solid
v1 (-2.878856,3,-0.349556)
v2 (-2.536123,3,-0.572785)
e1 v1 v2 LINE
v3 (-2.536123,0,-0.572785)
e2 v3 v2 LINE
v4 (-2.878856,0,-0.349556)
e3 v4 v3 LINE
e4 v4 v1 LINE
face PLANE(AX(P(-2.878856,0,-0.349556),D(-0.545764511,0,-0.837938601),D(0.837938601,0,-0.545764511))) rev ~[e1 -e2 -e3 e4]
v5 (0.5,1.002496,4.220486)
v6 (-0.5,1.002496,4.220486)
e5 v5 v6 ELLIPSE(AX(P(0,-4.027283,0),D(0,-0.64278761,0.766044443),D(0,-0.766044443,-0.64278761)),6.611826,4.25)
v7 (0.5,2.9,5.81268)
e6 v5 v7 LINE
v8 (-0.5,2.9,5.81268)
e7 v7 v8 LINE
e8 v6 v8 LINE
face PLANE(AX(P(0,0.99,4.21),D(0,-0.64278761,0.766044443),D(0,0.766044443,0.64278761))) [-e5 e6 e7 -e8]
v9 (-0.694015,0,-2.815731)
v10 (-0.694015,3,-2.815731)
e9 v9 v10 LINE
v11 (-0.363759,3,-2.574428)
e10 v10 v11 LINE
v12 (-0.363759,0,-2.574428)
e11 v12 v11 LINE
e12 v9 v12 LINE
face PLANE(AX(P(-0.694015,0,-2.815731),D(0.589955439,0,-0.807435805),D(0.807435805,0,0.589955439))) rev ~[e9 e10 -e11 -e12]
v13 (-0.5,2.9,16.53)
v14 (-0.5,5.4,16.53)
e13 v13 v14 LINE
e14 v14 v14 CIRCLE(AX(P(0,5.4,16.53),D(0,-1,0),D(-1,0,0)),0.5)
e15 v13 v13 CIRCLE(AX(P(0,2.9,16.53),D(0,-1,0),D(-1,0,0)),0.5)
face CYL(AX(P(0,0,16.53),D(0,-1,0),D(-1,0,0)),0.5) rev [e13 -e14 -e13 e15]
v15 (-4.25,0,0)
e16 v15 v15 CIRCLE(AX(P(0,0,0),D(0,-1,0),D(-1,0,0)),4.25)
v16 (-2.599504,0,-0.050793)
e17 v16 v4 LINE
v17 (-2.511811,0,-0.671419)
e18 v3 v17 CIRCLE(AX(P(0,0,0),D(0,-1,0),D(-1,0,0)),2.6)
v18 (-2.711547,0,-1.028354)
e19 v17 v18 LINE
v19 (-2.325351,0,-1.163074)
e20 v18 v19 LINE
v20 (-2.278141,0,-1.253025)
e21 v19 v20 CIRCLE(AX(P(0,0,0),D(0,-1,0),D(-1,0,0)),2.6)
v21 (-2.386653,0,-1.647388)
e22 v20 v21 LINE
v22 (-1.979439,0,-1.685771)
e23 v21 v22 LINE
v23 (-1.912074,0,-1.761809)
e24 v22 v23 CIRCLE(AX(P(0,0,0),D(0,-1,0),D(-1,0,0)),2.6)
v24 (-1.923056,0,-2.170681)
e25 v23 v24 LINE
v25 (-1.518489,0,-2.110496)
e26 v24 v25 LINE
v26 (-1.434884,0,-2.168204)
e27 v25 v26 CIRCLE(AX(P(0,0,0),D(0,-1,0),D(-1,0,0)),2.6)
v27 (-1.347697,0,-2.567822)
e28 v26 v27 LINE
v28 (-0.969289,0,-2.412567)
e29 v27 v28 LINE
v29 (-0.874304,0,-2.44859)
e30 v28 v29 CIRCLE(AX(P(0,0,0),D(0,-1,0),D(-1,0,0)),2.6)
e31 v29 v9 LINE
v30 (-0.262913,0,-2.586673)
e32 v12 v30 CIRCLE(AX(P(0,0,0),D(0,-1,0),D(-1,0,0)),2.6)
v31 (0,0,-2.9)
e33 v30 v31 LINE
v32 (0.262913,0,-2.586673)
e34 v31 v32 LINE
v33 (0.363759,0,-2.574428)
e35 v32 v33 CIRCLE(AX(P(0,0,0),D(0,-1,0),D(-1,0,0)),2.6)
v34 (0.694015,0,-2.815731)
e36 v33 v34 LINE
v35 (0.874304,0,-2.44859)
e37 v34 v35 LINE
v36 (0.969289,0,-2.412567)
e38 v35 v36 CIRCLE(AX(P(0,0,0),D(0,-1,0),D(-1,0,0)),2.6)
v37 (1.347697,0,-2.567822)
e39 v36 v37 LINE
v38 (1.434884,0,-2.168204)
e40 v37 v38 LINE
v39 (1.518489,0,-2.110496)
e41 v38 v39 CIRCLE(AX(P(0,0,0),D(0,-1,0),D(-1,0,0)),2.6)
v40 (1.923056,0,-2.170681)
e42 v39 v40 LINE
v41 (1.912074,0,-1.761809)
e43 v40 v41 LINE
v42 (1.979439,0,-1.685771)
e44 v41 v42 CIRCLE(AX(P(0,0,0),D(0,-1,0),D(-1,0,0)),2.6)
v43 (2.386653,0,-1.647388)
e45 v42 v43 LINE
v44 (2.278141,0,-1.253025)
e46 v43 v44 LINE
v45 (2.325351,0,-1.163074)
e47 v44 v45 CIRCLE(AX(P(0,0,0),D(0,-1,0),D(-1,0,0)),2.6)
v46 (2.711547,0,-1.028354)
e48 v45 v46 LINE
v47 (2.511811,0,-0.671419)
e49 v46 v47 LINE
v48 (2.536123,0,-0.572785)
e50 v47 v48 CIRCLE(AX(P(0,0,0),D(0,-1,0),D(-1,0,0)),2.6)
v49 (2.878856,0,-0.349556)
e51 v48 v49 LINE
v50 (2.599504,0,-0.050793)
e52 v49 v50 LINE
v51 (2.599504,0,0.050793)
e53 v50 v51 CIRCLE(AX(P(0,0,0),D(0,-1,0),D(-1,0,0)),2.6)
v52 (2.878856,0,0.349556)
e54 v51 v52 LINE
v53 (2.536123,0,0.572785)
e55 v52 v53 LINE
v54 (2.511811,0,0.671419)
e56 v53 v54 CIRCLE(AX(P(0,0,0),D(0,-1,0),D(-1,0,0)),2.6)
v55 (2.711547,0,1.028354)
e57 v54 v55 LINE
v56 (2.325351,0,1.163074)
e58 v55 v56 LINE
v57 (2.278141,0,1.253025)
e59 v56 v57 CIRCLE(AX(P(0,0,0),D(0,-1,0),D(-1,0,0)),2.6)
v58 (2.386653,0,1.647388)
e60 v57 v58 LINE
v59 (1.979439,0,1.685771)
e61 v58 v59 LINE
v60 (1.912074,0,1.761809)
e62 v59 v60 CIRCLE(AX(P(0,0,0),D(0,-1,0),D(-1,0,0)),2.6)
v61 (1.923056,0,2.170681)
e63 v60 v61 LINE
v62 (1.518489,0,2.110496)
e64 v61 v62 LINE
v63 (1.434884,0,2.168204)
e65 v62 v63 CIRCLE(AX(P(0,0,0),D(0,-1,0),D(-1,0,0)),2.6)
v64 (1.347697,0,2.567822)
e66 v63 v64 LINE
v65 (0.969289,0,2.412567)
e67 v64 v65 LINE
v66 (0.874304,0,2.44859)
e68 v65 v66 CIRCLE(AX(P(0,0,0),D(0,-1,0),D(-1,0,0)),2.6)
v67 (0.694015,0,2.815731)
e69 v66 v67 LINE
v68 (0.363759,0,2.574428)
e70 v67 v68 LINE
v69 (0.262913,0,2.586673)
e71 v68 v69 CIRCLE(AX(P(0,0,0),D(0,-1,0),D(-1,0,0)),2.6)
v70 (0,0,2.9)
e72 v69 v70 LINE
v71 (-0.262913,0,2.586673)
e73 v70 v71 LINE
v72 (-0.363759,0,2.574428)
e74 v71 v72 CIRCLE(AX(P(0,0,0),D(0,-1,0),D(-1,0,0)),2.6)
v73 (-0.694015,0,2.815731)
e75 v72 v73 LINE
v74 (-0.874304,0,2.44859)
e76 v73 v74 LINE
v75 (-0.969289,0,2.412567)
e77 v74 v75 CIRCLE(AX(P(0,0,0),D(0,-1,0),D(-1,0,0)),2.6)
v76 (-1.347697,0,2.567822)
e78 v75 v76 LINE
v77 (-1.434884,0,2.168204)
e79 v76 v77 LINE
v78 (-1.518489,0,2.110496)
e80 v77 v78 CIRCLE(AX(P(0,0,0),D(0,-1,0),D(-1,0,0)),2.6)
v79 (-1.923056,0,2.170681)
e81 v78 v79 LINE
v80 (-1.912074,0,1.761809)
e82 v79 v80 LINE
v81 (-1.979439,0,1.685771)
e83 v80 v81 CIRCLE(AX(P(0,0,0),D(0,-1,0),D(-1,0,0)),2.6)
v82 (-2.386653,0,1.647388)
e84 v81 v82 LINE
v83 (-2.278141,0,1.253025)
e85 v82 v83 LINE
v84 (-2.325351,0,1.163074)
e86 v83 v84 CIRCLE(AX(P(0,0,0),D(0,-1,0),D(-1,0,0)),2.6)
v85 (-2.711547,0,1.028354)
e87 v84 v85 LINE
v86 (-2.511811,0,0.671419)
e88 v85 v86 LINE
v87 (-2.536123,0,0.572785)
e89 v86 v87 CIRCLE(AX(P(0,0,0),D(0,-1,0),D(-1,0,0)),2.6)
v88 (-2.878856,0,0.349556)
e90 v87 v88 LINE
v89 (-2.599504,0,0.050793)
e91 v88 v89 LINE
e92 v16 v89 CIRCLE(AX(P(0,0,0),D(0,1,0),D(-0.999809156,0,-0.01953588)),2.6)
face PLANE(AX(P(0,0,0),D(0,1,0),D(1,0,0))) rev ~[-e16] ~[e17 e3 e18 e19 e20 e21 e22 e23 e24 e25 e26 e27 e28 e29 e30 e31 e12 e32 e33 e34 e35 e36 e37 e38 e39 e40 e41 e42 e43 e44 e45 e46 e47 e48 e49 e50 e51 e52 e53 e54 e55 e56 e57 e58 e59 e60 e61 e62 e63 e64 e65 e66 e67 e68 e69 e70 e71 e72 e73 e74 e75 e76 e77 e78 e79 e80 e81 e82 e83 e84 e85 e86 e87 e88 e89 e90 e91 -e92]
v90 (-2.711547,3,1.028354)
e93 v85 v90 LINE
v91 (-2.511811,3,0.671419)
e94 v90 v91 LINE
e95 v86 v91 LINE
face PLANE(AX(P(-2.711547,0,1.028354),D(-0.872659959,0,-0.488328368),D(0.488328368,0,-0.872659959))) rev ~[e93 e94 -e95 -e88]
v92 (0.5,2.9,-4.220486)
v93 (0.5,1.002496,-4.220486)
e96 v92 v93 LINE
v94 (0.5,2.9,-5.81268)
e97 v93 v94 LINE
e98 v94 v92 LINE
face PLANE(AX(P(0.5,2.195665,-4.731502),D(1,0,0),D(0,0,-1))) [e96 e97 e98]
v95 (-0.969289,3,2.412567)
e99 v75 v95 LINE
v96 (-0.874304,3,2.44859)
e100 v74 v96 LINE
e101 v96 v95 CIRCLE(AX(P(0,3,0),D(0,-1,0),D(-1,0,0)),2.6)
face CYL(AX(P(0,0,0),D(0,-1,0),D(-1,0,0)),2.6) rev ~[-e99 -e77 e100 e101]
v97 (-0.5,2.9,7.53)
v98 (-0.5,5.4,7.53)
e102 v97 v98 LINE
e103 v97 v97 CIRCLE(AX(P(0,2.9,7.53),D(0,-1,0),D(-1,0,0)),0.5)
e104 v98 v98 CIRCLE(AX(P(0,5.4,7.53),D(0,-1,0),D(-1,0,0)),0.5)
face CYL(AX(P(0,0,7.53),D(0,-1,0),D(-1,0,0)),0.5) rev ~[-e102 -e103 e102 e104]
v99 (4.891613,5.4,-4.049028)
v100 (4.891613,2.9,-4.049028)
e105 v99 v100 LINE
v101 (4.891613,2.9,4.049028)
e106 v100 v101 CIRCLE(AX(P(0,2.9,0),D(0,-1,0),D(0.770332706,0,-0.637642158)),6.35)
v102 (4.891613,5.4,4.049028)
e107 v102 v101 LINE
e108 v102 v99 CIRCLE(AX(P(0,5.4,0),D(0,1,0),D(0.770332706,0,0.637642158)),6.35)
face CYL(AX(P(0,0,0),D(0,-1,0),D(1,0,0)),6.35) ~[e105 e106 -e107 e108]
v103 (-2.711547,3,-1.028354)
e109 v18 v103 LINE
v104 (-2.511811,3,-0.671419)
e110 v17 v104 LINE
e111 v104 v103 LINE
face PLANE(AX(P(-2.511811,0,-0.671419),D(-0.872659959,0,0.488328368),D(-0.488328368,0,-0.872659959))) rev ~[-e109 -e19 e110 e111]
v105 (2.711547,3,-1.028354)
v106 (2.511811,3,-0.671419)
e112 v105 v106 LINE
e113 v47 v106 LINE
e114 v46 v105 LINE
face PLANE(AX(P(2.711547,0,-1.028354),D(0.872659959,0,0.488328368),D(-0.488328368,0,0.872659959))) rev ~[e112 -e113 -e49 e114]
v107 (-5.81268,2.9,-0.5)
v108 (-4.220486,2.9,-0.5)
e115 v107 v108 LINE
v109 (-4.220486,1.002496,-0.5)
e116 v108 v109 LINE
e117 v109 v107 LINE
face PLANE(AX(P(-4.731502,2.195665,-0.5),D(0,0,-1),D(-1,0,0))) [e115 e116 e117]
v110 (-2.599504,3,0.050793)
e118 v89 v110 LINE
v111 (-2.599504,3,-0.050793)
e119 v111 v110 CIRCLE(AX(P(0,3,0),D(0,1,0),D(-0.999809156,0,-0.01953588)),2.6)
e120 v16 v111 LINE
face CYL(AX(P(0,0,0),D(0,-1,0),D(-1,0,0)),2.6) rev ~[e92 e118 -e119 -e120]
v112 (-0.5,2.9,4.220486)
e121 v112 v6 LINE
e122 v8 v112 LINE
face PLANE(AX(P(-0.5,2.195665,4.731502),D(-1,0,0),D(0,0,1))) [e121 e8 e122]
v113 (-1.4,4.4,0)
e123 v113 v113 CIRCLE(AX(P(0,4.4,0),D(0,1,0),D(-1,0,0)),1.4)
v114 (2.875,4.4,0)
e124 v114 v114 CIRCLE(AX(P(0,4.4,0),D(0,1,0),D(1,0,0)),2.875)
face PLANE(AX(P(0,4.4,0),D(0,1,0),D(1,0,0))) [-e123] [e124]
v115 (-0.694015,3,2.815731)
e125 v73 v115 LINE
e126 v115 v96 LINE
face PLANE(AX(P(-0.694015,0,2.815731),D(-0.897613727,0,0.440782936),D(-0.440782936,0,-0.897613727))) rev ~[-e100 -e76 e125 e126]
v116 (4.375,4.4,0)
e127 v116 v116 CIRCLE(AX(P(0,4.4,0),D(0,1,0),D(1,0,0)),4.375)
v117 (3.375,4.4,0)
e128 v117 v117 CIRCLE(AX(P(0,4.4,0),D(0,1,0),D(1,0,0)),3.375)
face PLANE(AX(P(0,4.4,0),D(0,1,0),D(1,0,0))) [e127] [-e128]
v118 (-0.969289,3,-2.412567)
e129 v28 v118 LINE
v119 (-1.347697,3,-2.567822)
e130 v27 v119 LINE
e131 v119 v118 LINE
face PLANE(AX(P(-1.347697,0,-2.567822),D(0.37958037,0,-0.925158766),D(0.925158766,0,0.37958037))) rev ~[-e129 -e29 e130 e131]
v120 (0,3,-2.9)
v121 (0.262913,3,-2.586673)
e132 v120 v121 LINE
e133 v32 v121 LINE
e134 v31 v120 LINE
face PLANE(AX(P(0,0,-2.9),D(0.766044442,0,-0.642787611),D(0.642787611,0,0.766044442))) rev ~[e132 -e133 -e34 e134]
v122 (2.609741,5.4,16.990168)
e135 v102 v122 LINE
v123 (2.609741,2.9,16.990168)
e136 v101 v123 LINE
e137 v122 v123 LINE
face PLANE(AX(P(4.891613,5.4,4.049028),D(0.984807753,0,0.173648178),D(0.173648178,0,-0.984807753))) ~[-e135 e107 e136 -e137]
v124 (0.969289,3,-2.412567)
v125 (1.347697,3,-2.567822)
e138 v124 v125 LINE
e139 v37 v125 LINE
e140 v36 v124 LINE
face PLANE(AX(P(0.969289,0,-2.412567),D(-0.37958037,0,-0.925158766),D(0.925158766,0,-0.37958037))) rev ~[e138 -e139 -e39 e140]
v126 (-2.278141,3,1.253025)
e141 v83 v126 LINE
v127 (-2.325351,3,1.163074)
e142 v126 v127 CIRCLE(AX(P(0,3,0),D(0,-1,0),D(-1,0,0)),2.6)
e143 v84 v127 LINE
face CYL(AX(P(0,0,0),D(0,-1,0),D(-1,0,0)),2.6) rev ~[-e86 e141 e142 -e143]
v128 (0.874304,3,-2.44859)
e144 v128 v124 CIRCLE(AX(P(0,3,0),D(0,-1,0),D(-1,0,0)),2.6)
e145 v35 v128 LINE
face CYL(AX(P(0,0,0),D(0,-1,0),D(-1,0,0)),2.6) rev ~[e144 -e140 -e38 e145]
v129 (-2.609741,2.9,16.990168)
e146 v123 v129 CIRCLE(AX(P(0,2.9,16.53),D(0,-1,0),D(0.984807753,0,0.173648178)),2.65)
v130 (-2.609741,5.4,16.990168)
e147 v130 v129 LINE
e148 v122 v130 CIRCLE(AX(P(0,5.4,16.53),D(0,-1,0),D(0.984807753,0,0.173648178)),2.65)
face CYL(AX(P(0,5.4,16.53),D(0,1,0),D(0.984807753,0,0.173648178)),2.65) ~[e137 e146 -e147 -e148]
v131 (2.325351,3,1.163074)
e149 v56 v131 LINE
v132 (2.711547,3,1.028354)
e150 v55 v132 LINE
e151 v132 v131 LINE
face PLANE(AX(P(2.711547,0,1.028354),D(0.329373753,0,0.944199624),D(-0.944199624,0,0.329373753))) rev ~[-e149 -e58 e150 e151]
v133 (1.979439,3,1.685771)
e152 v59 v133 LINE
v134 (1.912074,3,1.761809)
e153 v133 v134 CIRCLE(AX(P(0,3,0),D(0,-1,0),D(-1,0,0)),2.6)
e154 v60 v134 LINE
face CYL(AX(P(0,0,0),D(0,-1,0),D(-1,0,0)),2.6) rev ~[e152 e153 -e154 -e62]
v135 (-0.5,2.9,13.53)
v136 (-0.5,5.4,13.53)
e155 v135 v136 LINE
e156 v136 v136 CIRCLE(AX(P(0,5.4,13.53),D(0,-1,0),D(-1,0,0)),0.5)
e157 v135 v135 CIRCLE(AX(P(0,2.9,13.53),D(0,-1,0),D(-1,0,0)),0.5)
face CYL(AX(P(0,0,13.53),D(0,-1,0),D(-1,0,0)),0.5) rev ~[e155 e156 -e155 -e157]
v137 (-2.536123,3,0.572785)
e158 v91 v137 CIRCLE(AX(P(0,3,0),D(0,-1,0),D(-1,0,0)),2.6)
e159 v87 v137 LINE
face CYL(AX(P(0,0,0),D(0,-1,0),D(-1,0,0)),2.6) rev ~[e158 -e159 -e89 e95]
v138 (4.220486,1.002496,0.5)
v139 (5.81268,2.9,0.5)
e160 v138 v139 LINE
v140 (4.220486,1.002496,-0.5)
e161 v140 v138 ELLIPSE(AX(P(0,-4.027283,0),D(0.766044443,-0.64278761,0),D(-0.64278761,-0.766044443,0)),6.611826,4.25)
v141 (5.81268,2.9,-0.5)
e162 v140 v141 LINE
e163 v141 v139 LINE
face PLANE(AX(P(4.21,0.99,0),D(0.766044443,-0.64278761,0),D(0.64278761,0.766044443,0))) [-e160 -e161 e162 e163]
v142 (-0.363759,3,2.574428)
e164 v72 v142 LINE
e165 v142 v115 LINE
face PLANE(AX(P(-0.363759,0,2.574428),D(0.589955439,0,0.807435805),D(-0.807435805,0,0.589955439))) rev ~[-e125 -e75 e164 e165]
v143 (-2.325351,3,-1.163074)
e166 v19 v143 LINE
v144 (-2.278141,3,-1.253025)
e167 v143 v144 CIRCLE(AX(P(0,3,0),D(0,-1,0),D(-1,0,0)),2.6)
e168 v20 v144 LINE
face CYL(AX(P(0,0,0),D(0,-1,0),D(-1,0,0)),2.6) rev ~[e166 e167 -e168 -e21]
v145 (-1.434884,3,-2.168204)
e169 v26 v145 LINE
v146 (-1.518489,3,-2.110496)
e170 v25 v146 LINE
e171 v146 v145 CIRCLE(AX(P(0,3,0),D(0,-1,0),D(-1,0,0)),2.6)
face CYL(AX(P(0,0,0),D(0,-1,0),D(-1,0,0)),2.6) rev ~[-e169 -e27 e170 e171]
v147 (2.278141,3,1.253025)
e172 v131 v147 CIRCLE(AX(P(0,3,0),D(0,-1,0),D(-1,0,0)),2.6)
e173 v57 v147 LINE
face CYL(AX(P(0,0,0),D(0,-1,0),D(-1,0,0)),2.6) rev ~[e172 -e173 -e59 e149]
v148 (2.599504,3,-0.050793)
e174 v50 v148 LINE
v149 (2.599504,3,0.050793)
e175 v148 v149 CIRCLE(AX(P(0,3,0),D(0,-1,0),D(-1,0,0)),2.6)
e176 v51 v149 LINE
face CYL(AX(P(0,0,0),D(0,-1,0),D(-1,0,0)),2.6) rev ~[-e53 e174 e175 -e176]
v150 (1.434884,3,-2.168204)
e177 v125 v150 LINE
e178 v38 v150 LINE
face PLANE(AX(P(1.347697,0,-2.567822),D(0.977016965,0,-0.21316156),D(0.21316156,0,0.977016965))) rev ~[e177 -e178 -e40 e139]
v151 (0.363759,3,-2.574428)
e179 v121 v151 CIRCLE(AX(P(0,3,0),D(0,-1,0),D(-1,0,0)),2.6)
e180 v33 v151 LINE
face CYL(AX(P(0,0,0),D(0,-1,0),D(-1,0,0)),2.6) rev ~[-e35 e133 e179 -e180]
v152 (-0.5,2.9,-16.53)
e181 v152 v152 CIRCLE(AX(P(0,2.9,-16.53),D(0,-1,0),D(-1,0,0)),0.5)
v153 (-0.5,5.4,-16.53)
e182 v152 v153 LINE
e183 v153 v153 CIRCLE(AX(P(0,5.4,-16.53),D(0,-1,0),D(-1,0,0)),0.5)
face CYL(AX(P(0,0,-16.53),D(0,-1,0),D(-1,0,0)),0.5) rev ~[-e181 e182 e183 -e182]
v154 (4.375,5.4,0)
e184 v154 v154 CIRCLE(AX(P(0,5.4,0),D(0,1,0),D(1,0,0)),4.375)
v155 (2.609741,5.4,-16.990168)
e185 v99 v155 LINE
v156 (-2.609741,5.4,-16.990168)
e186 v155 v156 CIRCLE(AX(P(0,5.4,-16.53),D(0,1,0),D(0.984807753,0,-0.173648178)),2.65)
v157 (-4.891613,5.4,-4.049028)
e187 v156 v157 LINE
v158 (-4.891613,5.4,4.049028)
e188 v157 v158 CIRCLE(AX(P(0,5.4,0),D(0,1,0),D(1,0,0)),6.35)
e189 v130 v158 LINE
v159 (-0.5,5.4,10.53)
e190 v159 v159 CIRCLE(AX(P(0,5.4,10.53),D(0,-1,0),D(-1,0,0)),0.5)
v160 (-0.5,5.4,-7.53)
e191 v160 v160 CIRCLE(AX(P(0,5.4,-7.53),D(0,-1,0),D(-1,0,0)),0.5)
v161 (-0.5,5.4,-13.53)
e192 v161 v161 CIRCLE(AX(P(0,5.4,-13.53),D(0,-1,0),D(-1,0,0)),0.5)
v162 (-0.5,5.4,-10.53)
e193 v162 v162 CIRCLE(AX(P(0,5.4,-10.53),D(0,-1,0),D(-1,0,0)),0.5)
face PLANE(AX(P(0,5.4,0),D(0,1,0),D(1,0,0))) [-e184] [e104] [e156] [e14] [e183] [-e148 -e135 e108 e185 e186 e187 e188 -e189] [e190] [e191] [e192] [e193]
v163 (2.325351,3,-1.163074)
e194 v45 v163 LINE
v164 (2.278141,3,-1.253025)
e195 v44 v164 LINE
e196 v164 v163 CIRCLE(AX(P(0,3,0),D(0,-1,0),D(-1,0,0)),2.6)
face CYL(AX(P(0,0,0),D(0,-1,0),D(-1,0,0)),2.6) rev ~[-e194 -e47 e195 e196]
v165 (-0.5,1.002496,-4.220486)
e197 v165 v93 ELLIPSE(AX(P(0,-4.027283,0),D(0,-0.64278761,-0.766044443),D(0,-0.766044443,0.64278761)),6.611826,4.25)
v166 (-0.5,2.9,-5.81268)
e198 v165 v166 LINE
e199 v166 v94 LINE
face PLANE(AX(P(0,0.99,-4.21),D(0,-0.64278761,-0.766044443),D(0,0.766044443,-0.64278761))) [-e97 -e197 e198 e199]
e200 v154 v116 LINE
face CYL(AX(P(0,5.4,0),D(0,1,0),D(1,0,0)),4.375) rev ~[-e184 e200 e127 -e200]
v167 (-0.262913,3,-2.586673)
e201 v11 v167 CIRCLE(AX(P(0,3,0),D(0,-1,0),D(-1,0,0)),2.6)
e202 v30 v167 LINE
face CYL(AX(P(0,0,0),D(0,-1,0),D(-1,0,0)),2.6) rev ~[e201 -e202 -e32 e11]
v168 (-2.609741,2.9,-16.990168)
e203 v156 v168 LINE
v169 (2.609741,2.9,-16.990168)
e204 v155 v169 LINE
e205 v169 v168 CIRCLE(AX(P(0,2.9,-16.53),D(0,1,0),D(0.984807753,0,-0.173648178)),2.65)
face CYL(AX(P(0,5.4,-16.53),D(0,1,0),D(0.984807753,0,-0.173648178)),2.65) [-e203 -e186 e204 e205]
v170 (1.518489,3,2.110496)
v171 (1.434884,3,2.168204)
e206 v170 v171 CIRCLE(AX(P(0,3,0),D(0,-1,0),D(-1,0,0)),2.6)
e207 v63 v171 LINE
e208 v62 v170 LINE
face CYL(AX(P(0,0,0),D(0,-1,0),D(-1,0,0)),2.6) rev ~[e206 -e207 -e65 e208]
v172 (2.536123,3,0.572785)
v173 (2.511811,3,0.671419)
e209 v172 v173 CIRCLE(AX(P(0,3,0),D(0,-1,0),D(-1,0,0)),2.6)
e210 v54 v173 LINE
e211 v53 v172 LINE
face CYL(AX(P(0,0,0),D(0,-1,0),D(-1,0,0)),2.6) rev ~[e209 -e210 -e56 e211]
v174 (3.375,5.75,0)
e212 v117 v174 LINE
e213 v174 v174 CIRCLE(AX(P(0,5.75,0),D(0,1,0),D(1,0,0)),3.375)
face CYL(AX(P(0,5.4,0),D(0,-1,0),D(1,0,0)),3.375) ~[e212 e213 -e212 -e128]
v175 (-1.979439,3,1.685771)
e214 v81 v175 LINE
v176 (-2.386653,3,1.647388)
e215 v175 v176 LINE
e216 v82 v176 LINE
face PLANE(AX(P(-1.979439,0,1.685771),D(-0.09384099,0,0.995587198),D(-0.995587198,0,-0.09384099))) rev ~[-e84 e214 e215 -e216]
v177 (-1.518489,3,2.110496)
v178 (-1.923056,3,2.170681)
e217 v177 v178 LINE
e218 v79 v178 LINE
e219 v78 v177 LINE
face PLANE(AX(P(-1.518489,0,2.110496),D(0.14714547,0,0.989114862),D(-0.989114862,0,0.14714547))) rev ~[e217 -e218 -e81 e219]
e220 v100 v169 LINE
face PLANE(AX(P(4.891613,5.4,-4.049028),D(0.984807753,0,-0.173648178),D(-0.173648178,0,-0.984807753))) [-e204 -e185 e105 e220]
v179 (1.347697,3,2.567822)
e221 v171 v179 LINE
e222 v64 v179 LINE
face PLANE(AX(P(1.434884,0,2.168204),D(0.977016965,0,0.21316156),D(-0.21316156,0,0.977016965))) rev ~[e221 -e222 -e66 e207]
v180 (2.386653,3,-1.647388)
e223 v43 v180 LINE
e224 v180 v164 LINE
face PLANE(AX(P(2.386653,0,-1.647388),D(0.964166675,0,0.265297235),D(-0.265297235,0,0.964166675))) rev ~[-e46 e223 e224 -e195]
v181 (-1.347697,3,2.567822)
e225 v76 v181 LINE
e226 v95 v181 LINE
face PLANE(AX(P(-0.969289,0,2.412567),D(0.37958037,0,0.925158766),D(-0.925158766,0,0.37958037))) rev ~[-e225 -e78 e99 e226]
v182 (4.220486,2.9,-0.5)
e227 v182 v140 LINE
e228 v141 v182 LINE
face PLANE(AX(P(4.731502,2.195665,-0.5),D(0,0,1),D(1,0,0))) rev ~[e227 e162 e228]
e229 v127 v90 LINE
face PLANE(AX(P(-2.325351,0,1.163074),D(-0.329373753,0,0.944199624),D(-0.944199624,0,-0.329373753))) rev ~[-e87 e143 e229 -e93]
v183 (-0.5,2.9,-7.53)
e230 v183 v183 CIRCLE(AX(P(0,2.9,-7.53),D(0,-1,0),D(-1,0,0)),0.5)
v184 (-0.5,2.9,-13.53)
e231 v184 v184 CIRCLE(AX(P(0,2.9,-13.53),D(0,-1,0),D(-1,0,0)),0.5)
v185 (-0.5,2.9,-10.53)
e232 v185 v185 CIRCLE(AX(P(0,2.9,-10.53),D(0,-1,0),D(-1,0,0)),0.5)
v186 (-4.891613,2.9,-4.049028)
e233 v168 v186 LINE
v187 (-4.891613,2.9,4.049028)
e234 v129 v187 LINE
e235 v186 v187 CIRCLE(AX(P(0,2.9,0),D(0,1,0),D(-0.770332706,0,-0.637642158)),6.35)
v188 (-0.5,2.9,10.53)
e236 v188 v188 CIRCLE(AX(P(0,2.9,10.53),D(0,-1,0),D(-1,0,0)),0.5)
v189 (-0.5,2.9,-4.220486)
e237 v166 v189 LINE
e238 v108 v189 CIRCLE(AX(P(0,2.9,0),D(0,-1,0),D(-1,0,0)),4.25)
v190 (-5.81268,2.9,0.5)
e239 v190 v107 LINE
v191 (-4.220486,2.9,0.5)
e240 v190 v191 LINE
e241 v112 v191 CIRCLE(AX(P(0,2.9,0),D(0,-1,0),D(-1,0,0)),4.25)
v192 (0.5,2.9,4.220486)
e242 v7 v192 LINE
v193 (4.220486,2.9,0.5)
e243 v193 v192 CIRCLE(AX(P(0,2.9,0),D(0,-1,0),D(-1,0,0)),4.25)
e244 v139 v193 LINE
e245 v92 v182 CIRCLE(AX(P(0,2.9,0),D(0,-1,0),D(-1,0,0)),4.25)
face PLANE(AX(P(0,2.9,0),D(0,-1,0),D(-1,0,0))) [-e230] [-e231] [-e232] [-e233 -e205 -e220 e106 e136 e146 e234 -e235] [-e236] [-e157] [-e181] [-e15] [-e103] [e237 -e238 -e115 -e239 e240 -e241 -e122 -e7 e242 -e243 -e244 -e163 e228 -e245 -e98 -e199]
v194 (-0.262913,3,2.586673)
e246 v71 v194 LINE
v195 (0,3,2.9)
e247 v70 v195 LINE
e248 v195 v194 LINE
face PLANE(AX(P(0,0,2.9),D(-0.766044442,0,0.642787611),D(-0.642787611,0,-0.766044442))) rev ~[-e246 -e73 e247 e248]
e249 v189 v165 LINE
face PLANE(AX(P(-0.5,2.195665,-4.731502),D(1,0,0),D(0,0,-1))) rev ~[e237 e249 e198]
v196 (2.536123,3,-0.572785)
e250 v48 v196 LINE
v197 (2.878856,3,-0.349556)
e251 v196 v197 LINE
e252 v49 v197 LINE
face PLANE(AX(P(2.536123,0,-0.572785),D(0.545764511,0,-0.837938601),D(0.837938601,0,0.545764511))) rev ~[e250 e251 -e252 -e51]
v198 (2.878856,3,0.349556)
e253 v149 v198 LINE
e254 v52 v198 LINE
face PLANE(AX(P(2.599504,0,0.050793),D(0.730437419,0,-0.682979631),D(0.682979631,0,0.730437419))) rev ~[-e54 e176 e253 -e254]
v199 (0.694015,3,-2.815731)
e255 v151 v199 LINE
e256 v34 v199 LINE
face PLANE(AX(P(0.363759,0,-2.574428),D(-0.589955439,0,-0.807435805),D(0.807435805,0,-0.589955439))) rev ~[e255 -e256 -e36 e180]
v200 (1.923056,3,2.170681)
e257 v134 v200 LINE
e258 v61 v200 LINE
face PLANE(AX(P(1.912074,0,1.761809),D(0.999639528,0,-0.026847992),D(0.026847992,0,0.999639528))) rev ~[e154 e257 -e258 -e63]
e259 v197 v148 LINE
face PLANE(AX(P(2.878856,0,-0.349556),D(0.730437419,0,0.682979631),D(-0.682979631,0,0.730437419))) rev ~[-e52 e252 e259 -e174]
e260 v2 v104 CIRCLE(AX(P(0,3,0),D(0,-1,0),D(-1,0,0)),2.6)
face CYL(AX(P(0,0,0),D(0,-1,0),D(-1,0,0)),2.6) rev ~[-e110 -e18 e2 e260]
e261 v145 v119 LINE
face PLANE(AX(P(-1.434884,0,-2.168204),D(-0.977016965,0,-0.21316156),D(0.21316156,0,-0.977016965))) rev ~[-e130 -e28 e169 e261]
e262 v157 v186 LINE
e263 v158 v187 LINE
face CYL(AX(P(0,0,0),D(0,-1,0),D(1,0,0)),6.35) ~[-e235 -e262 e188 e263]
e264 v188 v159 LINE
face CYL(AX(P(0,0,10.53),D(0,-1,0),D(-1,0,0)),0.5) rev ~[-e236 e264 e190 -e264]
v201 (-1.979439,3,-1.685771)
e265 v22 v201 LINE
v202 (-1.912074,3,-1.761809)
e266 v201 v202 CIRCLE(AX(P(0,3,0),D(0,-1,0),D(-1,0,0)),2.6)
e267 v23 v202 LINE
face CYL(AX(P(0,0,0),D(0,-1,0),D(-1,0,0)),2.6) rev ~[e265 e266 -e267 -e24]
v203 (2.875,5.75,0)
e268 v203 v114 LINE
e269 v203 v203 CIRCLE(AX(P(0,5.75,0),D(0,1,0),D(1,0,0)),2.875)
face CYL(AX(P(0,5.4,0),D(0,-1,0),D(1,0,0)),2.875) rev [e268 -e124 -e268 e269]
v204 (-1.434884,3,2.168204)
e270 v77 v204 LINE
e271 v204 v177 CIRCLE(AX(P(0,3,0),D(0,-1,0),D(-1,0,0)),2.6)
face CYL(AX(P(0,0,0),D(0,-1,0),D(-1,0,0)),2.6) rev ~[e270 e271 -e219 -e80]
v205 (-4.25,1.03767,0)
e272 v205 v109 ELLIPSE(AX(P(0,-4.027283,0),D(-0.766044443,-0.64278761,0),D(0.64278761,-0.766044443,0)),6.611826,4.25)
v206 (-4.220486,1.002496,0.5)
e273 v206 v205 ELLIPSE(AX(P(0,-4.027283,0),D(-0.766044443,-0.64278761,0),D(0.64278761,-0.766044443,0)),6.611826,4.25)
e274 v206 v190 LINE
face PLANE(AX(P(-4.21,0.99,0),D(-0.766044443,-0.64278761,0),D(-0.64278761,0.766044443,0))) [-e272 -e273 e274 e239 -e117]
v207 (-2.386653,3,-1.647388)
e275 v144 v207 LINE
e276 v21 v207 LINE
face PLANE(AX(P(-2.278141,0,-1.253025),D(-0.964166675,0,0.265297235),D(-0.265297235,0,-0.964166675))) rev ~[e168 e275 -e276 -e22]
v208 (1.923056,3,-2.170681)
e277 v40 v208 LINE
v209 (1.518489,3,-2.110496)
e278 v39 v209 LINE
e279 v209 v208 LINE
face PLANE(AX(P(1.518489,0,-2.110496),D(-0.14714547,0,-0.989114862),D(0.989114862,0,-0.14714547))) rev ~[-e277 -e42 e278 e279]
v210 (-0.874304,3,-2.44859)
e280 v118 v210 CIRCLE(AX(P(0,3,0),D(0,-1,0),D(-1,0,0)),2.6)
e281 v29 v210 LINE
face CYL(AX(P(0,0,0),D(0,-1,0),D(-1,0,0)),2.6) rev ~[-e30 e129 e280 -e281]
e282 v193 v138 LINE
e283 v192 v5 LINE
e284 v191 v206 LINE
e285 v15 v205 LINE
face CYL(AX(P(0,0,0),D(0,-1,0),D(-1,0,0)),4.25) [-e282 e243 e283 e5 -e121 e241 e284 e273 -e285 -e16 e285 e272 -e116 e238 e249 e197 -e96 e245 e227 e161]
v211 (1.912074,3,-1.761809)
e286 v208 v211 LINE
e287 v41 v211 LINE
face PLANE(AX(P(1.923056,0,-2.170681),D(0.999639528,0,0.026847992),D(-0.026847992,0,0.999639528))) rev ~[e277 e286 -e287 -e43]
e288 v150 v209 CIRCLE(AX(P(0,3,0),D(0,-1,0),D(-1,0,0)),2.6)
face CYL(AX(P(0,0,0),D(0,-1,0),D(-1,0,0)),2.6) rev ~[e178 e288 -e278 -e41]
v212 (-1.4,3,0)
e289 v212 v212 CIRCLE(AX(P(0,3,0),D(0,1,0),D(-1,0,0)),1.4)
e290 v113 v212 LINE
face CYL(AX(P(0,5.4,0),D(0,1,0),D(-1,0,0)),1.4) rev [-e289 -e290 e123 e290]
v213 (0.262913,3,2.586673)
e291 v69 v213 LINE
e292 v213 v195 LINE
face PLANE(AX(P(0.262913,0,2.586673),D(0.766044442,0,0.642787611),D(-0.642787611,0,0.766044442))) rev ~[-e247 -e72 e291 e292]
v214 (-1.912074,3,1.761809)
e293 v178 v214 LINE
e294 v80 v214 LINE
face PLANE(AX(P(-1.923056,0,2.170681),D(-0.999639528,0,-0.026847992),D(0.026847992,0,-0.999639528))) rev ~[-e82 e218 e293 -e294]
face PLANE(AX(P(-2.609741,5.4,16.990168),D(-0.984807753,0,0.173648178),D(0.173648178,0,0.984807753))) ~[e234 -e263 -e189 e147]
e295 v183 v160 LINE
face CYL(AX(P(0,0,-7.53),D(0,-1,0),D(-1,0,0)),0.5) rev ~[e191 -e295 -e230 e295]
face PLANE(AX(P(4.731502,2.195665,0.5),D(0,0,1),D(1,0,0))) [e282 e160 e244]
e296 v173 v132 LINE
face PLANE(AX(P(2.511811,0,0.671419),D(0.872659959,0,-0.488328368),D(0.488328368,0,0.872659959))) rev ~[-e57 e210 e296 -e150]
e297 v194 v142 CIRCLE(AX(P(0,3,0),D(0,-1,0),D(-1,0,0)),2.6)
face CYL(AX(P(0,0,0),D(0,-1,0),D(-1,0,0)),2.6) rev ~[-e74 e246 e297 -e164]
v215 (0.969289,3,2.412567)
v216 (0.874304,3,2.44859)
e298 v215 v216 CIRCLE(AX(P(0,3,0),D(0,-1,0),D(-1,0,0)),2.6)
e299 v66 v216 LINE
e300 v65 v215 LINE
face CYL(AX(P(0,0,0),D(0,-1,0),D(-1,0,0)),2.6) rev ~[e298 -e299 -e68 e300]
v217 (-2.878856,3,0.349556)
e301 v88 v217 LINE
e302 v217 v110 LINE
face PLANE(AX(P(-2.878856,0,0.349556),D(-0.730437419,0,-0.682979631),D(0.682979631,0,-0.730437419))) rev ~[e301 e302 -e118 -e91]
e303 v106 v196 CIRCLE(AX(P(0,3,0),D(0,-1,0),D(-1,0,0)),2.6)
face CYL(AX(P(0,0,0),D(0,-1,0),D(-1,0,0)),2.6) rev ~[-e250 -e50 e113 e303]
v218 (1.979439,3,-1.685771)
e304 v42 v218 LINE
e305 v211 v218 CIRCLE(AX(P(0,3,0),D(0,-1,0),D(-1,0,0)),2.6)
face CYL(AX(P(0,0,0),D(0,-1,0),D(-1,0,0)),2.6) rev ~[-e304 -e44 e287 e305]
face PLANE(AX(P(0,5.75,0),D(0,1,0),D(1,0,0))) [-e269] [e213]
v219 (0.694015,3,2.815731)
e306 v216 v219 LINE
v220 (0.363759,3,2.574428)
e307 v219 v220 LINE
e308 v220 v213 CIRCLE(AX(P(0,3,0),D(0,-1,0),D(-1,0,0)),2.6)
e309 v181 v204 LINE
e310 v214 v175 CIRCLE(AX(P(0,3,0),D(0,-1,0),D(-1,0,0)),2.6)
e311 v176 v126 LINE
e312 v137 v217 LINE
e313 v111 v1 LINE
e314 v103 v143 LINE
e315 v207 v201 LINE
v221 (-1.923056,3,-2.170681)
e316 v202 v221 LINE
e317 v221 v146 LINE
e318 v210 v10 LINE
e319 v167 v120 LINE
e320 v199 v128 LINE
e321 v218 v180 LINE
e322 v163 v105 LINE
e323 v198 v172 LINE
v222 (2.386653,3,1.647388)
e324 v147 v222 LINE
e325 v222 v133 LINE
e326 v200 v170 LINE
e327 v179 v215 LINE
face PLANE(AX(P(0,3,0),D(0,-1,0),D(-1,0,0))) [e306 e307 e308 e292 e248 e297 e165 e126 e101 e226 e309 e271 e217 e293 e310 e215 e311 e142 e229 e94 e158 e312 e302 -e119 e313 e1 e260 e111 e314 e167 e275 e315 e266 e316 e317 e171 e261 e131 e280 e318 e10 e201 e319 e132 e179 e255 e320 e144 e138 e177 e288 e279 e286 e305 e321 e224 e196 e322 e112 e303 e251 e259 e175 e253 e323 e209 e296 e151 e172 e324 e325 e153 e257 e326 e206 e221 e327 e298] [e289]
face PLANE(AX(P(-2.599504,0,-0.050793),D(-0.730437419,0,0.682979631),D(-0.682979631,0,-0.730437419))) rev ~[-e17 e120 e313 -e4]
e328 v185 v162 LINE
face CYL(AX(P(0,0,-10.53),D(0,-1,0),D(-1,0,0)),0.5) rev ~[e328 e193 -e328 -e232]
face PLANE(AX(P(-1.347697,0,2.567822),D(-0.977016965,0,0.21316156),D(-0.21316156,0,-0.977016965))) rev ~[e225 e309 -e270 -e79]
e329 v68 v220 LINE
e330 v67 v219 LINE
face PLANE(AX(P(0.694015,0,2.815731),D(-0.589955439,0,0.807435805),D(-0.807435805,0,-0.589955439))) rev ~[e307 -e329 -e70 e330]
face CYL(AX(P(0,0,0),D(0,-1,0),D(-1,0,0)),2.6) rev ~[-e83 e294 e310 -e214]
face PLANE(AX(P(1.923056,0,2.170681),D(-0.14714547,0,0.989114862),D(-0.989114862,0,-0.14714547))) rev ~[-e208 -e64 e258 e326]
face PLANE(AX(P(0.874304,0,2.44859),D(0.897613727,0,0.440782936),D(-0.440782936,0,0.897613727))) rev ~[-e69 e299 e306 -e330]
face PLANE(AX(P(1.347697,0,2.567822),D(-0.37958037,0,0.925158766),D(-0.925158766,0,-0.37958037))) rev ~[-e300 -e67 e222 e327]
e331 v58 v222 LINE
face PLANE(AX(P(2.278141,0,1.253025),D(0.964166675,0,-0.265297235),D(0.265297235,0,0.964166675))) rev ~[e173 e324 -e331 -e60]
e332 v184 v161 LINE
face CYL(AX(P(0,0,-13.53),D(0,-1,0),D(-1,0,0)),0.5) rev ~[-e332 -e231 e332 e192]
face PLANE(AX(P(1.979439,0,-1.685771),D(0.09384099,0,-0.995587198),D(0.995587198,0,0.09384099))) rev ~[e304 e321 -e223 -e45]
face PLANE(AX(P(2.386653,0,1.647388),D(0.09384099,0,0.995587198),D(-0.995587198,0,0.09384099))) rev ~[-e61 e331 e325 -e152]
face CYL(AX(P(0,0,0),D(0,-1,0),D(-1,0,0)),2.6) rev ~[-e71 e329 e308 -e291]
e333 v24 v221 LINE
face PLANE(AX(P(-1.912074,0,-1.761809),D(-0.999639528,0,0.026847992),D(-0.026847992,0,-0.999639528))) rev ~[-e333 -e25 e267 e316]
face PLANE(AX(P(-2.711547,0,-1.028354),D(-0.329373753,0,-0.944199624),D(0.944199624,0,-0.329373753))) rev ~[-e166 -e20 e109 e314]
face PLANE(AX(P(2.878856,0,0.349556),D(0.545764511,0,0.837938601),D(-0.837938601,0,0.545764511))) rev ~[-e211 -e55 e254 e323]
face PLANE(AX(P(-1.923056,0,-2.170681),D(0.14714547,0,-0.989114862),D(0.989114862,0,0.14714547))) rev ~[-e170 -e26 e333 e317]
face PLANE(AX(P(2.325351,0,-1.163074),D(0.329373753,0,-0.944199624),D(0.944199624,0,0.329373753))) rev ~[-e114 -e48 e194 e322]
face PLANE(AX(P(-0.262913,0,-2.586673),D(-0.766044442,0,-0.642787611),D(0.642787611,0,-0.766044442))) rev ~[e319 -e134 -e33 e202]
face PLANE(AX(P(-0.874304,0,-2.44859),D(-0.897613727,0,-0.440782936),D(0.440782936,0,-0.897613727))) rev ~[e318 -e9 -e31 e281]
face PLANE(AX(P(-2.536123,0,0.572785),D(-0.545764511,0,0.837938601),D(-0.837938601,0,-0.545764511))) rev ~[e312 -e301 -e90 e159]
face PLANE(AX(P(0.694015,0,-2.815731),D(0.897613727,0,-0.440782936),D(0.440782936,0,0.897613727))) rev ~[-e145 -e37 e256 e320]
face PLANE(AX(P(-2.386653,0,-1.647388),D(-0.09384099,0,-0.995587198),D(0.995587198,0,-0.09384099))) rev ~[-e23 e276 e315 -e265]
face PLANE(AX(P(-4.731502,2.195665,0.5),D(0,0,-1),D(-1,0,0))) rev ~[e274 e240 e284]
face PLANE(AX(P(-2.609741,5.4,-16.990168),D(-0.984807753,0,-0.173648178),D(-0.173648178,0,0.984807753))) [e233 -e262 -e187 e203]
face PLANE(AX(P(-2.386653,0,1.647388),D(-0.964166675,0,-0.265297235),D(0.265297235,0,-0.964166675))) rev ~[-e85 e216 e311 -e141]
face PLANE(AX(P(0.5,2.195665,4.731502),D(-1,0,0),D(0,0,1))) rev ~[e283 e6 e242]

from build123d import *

# Parameters (mm, degrees)
SKETCH1_R               = 6.35
BOSS_EXTRUDE1_DEPTH     = 5.4
HORN_DEPTH              = 2.5
SKETCH4_R               = 1.4
CUT_EXTRUDE1_DEPTH      = 6.4
SKETCH5_R               = 0.5
CUT_EXTRUDE2_DEPTH      = 6.4
LPATTERN1_COUNT         = 4
LPATTERN1_PITCH         = 3
MIRROR1_COPY_1_SKETCH_R = 0.5
MIRROR1_COPY_1_DEPTH    = 6.4
MIRROR1_COPY_2_SKETCH_R = 0.5
MIRROR1_COPY_2_DEPTH    = 6.4
MIRROR1_COPY_3_SKETCH_R = 0.5
MIRROR1_COPY_3_DEPTH    = 6.4
CUT_EXTRUDE4_DEPTH      = 3
CIRPATTERN2_COUNT       = 26
SKETCH9_R               = 2.6
CUT_EXTRUDE5_DEPTH      = 3
SKETCH10_R              = 6.35
SKETCH10_R_2            = 4.25
CUT_EXTRUDE6_DEPTH      = 2.9
BOSS_EXTRUDE5_DEPTH     = 0.5
CIRPATTERN3_COUNT       = 4
SKETCH12_R              = 4.375
CUT_EXTRUDE7_DEPTH      = 1
SKETCH13_R              = 3.375
SKETCH13_R_2            = 2.875
BOSS_EXTRUDE6_DEPTH     = 1
SKETCH14_R              = 3.375
SKETCH14_R_2            = 2.875
BOSS_EXTRUDE7_DEPTH     = 0.35


with BuildPart() as part:
    # Sketch1 → Boss-Extrude1 (new body)
    with BuildSketch(Plane(origin=(0, 0, 0), x_dir=(1, 0, 0), z_dir=(0, 1, 0))):
        Circle(SKETCH1_R)
    extrude(amount=BOSS_EXTRUDE1_DEPTH)

    # Sketch2 → horn (add)
    with BuildSketch(Plane(origin=(0, 5.4, 0), x_dir=(1, 0, 0), z_dir=(0, 1, 0))):
        with BuildLine():
            Line((-2.609740545, 16.990167671), (-4.891612682, 4.049027706))
            ThreePointArc((-4.891612682, 4.049027706), (0, 6.35), (4.891612682, 4.049027706))
            Line((4.891612682, 4.049027706), (2.609740545, 16.990167671))
            ThreePointArc((2.609740545, 16.990167671), (0, 19.18), (-2.609740545, 16.990167671))
        make_face()
    horn = extrude(amount=-HORN_DEPTH)

    # Sketch4 → Cut-Extrude1 (cut, through all)
    with BuildSketch(Plane(origin=(0, 5.4, 0), x_dir=(-1, 0, 0), z_dir=(0, -1, 0))):
        Circle(SKETCH4_R)
    extrude(amount=CUT_EXTRUDE1_DEPTH, mode=Mode.SUBTRACT)

    # Sketch5 → Cut-Extrude2 (cut, through all)
    with BuildSketch(Plane(origin=(0, 0, 0), x_dir=(-1, 0, 0), z_dir=(0, -1, 0))):
        with Locations((0, 16.53)):
            Circle(SKETCH5_R)
    cut_extrude2 = extrude(amount=-CUT_EXTRUDE2_DEPTH, mode=Mode.SUBTRACT)

    # LPattern1: Cut-Extrude2 ×4
    with Locations(*[(0, 0, i * LPATTERN1_PITCH) for i in range(1, LPATTERN1_COUNT)]):
        add(cut_extrude2, mode=Mode.SUBTRACT)

    # Mirror1: horn, Cut-Extrude2 across plane
    add(horn.mirror(Plane.XY))
    add(cut_extrude2.mirror(Plane.XY), mode=Mode.SUBTRACT)

    # Mirror1 copy 1 sketch → Mirror1 copy 1 (cut, through all)
    with BuildSketch(Plane(origin=(0, 0, -3), x_dir=(-1, 0, 0), z_dir=(0, -1, 0))):
        with Locations((0, -16.53)):
            Circle(MIRROR1_COPY_1_SKETCH_R)
    extrude(amount=-MIRROR1_COPY_1_DEPTH, mode=Mode.SUBTRACT)

    # Mirror1 copy 2 sketch → Mirror1 copy 2 (cut, through all)
    with BuildSketch(Plane(origin=(0, 0, -6), x_dir=(-1, 0, 0), z_dir=(0, -1, 0))):
        with Locations((0, -16.53)):
            Circle(MIRROR1_COPY_2_SKETCH_R)
    extrude(amount=-MIRROR1_COPY_2_DEPTH, mode=Mode.SUBTRACT)

    # Mirror1 copy 3 sketch → Mirror1 copy 3 (cut, through all)
    with BuildSketch(Plane(origin=(0, 0, -9), x_dir=(-1, 0, 0), z_dir=(0, -1, 0))):
        with Locations((0, -16.53)):
            Circle(MIRROR1_COPY_3_SKETCH_R)
    extrude(amount=-MIRROR1_COPY_3_DEPTH, mode=Mode.SUBTRACT)

    # Sketch8 → Cut-Extrude4 (cut)
    with BuildSketch(Plane(origin=(0, 0, 0), x_dir=(-1, 0, 0), z_dir=(0, -1, 0))):
        with BuildLine():
            Line((0, -2.9), (0.262912611, -2.586672952))
            ThreePointArc((0.262912611, -2.586672952), (0, -2.6), (-0.262912611, -2.586672952))
            Line((-0.262912611, -2.586672952), (0, -2.9))
        make_face()
    cut_extrude4 = extrude(amount=-CUT_EXTRUDE4_DEPTH, mode=Mode.SUBTRACT)

    # CirPattern2: Cut-Extrude4 ×26 about axis
    cirpattern2_axis = Axis((0, 0, 0), (0, 1, 0))
    for i in range(1, CIRPATTERN2_COUNT):
        add(cut_extrude4.rotate(cirpattern2_axis, i * 360 / CIRPATTERN2_COUNT), mode=Mode.SUBTRACT)

    # Sketch9 → Cut-Extrude5 (cut)
    with BuildSketch(Plane(origin=(0, 0, 0), x_dir=(-1, 0, 0), z_dir=(0, -1, 0))):
        Circle(SKETCH9_R)
    extrude(amount=-CUT_EXTRUDE5_DEPTH, mode=Mode.SUBTRACT)

    # Sketch10 → Cut-Extrude6 (cut)
    with BuildSketch(Plane(origin=(0, 0, 0), x_dir=(-1, 0, 0), z_dir=(0, -1, 0))):
        Circle(SKETCH10_R)
        Circle(SKETCH10_R_2, mode=Mode.SUBTRACT)
    extrude(amount=-CUT_EXTRUDE6_DEPTH, mode=Mode.SUBTRACT)

    # Sketch11 → Boss-Extrude5 (add, symmetric)
    with BuildSketch(Plane.XY):
        Polygon((4.21, 0.99), (5.812680296, 2.9), (4.21, 2.9), (4.16, 2.9), (4.16, 0.99), align=None)
    boss_extrude5 = extrude(amount=BOSS_EXTRUDE5_DEPTH, both=True)

    # CirPattern3: Boss-Extrude5 ×4 about axis
    cirpattern3_axis = Axis((0, 0, 0), (0, 1, 0))
    for i in range(1, CIRPATTERN3_COUNT):
        add(boss_extrude5.rotate(cirpattern3_axis, i * 360 / CIRPATTERN3_COUNT))

    # Sketch12 → Cut-Extrude7 (cut)
    with BuildSketch(Plane(origin=(0, 5.4, 0), x_dir=(1, 0, 0), z_dir=(0, 1, 0))):
        Circle(SKETCH12_R)
    extrude(amount=-CUT_EXTRUDE7_DEPTH, mode=Mode.SUBTRACT)

    # Sketch13 → Boss-Extrude6 (add)
    with BuildSketch(Plane(origin=(0, 4.4, 0), x_dir=(1, 0, 0), z_dir=(0, 1, 0))):
        Circle(SKETCH13_R)
        Circle(SKETCH13_R_2, mode=Mode.SUBTRACT)
    extrude(amount=BOSS_EXTRUDE6_DEPTH)

    # Sketch14 → Boss-Extrude7 (add)
    with BuildSketch(Plane(origin=(0, 5.4, 0), x_dir=(1, 0, 0), z_dir=(0, 1, 0))):
        Circle(SKETCH14_R)
        Circle(SKETCH14_R_2, mode=Mode.SUBTRACT)
    extrude(amount=BOSS_EXTRUDE7_DEPTH)


solid = part.part
